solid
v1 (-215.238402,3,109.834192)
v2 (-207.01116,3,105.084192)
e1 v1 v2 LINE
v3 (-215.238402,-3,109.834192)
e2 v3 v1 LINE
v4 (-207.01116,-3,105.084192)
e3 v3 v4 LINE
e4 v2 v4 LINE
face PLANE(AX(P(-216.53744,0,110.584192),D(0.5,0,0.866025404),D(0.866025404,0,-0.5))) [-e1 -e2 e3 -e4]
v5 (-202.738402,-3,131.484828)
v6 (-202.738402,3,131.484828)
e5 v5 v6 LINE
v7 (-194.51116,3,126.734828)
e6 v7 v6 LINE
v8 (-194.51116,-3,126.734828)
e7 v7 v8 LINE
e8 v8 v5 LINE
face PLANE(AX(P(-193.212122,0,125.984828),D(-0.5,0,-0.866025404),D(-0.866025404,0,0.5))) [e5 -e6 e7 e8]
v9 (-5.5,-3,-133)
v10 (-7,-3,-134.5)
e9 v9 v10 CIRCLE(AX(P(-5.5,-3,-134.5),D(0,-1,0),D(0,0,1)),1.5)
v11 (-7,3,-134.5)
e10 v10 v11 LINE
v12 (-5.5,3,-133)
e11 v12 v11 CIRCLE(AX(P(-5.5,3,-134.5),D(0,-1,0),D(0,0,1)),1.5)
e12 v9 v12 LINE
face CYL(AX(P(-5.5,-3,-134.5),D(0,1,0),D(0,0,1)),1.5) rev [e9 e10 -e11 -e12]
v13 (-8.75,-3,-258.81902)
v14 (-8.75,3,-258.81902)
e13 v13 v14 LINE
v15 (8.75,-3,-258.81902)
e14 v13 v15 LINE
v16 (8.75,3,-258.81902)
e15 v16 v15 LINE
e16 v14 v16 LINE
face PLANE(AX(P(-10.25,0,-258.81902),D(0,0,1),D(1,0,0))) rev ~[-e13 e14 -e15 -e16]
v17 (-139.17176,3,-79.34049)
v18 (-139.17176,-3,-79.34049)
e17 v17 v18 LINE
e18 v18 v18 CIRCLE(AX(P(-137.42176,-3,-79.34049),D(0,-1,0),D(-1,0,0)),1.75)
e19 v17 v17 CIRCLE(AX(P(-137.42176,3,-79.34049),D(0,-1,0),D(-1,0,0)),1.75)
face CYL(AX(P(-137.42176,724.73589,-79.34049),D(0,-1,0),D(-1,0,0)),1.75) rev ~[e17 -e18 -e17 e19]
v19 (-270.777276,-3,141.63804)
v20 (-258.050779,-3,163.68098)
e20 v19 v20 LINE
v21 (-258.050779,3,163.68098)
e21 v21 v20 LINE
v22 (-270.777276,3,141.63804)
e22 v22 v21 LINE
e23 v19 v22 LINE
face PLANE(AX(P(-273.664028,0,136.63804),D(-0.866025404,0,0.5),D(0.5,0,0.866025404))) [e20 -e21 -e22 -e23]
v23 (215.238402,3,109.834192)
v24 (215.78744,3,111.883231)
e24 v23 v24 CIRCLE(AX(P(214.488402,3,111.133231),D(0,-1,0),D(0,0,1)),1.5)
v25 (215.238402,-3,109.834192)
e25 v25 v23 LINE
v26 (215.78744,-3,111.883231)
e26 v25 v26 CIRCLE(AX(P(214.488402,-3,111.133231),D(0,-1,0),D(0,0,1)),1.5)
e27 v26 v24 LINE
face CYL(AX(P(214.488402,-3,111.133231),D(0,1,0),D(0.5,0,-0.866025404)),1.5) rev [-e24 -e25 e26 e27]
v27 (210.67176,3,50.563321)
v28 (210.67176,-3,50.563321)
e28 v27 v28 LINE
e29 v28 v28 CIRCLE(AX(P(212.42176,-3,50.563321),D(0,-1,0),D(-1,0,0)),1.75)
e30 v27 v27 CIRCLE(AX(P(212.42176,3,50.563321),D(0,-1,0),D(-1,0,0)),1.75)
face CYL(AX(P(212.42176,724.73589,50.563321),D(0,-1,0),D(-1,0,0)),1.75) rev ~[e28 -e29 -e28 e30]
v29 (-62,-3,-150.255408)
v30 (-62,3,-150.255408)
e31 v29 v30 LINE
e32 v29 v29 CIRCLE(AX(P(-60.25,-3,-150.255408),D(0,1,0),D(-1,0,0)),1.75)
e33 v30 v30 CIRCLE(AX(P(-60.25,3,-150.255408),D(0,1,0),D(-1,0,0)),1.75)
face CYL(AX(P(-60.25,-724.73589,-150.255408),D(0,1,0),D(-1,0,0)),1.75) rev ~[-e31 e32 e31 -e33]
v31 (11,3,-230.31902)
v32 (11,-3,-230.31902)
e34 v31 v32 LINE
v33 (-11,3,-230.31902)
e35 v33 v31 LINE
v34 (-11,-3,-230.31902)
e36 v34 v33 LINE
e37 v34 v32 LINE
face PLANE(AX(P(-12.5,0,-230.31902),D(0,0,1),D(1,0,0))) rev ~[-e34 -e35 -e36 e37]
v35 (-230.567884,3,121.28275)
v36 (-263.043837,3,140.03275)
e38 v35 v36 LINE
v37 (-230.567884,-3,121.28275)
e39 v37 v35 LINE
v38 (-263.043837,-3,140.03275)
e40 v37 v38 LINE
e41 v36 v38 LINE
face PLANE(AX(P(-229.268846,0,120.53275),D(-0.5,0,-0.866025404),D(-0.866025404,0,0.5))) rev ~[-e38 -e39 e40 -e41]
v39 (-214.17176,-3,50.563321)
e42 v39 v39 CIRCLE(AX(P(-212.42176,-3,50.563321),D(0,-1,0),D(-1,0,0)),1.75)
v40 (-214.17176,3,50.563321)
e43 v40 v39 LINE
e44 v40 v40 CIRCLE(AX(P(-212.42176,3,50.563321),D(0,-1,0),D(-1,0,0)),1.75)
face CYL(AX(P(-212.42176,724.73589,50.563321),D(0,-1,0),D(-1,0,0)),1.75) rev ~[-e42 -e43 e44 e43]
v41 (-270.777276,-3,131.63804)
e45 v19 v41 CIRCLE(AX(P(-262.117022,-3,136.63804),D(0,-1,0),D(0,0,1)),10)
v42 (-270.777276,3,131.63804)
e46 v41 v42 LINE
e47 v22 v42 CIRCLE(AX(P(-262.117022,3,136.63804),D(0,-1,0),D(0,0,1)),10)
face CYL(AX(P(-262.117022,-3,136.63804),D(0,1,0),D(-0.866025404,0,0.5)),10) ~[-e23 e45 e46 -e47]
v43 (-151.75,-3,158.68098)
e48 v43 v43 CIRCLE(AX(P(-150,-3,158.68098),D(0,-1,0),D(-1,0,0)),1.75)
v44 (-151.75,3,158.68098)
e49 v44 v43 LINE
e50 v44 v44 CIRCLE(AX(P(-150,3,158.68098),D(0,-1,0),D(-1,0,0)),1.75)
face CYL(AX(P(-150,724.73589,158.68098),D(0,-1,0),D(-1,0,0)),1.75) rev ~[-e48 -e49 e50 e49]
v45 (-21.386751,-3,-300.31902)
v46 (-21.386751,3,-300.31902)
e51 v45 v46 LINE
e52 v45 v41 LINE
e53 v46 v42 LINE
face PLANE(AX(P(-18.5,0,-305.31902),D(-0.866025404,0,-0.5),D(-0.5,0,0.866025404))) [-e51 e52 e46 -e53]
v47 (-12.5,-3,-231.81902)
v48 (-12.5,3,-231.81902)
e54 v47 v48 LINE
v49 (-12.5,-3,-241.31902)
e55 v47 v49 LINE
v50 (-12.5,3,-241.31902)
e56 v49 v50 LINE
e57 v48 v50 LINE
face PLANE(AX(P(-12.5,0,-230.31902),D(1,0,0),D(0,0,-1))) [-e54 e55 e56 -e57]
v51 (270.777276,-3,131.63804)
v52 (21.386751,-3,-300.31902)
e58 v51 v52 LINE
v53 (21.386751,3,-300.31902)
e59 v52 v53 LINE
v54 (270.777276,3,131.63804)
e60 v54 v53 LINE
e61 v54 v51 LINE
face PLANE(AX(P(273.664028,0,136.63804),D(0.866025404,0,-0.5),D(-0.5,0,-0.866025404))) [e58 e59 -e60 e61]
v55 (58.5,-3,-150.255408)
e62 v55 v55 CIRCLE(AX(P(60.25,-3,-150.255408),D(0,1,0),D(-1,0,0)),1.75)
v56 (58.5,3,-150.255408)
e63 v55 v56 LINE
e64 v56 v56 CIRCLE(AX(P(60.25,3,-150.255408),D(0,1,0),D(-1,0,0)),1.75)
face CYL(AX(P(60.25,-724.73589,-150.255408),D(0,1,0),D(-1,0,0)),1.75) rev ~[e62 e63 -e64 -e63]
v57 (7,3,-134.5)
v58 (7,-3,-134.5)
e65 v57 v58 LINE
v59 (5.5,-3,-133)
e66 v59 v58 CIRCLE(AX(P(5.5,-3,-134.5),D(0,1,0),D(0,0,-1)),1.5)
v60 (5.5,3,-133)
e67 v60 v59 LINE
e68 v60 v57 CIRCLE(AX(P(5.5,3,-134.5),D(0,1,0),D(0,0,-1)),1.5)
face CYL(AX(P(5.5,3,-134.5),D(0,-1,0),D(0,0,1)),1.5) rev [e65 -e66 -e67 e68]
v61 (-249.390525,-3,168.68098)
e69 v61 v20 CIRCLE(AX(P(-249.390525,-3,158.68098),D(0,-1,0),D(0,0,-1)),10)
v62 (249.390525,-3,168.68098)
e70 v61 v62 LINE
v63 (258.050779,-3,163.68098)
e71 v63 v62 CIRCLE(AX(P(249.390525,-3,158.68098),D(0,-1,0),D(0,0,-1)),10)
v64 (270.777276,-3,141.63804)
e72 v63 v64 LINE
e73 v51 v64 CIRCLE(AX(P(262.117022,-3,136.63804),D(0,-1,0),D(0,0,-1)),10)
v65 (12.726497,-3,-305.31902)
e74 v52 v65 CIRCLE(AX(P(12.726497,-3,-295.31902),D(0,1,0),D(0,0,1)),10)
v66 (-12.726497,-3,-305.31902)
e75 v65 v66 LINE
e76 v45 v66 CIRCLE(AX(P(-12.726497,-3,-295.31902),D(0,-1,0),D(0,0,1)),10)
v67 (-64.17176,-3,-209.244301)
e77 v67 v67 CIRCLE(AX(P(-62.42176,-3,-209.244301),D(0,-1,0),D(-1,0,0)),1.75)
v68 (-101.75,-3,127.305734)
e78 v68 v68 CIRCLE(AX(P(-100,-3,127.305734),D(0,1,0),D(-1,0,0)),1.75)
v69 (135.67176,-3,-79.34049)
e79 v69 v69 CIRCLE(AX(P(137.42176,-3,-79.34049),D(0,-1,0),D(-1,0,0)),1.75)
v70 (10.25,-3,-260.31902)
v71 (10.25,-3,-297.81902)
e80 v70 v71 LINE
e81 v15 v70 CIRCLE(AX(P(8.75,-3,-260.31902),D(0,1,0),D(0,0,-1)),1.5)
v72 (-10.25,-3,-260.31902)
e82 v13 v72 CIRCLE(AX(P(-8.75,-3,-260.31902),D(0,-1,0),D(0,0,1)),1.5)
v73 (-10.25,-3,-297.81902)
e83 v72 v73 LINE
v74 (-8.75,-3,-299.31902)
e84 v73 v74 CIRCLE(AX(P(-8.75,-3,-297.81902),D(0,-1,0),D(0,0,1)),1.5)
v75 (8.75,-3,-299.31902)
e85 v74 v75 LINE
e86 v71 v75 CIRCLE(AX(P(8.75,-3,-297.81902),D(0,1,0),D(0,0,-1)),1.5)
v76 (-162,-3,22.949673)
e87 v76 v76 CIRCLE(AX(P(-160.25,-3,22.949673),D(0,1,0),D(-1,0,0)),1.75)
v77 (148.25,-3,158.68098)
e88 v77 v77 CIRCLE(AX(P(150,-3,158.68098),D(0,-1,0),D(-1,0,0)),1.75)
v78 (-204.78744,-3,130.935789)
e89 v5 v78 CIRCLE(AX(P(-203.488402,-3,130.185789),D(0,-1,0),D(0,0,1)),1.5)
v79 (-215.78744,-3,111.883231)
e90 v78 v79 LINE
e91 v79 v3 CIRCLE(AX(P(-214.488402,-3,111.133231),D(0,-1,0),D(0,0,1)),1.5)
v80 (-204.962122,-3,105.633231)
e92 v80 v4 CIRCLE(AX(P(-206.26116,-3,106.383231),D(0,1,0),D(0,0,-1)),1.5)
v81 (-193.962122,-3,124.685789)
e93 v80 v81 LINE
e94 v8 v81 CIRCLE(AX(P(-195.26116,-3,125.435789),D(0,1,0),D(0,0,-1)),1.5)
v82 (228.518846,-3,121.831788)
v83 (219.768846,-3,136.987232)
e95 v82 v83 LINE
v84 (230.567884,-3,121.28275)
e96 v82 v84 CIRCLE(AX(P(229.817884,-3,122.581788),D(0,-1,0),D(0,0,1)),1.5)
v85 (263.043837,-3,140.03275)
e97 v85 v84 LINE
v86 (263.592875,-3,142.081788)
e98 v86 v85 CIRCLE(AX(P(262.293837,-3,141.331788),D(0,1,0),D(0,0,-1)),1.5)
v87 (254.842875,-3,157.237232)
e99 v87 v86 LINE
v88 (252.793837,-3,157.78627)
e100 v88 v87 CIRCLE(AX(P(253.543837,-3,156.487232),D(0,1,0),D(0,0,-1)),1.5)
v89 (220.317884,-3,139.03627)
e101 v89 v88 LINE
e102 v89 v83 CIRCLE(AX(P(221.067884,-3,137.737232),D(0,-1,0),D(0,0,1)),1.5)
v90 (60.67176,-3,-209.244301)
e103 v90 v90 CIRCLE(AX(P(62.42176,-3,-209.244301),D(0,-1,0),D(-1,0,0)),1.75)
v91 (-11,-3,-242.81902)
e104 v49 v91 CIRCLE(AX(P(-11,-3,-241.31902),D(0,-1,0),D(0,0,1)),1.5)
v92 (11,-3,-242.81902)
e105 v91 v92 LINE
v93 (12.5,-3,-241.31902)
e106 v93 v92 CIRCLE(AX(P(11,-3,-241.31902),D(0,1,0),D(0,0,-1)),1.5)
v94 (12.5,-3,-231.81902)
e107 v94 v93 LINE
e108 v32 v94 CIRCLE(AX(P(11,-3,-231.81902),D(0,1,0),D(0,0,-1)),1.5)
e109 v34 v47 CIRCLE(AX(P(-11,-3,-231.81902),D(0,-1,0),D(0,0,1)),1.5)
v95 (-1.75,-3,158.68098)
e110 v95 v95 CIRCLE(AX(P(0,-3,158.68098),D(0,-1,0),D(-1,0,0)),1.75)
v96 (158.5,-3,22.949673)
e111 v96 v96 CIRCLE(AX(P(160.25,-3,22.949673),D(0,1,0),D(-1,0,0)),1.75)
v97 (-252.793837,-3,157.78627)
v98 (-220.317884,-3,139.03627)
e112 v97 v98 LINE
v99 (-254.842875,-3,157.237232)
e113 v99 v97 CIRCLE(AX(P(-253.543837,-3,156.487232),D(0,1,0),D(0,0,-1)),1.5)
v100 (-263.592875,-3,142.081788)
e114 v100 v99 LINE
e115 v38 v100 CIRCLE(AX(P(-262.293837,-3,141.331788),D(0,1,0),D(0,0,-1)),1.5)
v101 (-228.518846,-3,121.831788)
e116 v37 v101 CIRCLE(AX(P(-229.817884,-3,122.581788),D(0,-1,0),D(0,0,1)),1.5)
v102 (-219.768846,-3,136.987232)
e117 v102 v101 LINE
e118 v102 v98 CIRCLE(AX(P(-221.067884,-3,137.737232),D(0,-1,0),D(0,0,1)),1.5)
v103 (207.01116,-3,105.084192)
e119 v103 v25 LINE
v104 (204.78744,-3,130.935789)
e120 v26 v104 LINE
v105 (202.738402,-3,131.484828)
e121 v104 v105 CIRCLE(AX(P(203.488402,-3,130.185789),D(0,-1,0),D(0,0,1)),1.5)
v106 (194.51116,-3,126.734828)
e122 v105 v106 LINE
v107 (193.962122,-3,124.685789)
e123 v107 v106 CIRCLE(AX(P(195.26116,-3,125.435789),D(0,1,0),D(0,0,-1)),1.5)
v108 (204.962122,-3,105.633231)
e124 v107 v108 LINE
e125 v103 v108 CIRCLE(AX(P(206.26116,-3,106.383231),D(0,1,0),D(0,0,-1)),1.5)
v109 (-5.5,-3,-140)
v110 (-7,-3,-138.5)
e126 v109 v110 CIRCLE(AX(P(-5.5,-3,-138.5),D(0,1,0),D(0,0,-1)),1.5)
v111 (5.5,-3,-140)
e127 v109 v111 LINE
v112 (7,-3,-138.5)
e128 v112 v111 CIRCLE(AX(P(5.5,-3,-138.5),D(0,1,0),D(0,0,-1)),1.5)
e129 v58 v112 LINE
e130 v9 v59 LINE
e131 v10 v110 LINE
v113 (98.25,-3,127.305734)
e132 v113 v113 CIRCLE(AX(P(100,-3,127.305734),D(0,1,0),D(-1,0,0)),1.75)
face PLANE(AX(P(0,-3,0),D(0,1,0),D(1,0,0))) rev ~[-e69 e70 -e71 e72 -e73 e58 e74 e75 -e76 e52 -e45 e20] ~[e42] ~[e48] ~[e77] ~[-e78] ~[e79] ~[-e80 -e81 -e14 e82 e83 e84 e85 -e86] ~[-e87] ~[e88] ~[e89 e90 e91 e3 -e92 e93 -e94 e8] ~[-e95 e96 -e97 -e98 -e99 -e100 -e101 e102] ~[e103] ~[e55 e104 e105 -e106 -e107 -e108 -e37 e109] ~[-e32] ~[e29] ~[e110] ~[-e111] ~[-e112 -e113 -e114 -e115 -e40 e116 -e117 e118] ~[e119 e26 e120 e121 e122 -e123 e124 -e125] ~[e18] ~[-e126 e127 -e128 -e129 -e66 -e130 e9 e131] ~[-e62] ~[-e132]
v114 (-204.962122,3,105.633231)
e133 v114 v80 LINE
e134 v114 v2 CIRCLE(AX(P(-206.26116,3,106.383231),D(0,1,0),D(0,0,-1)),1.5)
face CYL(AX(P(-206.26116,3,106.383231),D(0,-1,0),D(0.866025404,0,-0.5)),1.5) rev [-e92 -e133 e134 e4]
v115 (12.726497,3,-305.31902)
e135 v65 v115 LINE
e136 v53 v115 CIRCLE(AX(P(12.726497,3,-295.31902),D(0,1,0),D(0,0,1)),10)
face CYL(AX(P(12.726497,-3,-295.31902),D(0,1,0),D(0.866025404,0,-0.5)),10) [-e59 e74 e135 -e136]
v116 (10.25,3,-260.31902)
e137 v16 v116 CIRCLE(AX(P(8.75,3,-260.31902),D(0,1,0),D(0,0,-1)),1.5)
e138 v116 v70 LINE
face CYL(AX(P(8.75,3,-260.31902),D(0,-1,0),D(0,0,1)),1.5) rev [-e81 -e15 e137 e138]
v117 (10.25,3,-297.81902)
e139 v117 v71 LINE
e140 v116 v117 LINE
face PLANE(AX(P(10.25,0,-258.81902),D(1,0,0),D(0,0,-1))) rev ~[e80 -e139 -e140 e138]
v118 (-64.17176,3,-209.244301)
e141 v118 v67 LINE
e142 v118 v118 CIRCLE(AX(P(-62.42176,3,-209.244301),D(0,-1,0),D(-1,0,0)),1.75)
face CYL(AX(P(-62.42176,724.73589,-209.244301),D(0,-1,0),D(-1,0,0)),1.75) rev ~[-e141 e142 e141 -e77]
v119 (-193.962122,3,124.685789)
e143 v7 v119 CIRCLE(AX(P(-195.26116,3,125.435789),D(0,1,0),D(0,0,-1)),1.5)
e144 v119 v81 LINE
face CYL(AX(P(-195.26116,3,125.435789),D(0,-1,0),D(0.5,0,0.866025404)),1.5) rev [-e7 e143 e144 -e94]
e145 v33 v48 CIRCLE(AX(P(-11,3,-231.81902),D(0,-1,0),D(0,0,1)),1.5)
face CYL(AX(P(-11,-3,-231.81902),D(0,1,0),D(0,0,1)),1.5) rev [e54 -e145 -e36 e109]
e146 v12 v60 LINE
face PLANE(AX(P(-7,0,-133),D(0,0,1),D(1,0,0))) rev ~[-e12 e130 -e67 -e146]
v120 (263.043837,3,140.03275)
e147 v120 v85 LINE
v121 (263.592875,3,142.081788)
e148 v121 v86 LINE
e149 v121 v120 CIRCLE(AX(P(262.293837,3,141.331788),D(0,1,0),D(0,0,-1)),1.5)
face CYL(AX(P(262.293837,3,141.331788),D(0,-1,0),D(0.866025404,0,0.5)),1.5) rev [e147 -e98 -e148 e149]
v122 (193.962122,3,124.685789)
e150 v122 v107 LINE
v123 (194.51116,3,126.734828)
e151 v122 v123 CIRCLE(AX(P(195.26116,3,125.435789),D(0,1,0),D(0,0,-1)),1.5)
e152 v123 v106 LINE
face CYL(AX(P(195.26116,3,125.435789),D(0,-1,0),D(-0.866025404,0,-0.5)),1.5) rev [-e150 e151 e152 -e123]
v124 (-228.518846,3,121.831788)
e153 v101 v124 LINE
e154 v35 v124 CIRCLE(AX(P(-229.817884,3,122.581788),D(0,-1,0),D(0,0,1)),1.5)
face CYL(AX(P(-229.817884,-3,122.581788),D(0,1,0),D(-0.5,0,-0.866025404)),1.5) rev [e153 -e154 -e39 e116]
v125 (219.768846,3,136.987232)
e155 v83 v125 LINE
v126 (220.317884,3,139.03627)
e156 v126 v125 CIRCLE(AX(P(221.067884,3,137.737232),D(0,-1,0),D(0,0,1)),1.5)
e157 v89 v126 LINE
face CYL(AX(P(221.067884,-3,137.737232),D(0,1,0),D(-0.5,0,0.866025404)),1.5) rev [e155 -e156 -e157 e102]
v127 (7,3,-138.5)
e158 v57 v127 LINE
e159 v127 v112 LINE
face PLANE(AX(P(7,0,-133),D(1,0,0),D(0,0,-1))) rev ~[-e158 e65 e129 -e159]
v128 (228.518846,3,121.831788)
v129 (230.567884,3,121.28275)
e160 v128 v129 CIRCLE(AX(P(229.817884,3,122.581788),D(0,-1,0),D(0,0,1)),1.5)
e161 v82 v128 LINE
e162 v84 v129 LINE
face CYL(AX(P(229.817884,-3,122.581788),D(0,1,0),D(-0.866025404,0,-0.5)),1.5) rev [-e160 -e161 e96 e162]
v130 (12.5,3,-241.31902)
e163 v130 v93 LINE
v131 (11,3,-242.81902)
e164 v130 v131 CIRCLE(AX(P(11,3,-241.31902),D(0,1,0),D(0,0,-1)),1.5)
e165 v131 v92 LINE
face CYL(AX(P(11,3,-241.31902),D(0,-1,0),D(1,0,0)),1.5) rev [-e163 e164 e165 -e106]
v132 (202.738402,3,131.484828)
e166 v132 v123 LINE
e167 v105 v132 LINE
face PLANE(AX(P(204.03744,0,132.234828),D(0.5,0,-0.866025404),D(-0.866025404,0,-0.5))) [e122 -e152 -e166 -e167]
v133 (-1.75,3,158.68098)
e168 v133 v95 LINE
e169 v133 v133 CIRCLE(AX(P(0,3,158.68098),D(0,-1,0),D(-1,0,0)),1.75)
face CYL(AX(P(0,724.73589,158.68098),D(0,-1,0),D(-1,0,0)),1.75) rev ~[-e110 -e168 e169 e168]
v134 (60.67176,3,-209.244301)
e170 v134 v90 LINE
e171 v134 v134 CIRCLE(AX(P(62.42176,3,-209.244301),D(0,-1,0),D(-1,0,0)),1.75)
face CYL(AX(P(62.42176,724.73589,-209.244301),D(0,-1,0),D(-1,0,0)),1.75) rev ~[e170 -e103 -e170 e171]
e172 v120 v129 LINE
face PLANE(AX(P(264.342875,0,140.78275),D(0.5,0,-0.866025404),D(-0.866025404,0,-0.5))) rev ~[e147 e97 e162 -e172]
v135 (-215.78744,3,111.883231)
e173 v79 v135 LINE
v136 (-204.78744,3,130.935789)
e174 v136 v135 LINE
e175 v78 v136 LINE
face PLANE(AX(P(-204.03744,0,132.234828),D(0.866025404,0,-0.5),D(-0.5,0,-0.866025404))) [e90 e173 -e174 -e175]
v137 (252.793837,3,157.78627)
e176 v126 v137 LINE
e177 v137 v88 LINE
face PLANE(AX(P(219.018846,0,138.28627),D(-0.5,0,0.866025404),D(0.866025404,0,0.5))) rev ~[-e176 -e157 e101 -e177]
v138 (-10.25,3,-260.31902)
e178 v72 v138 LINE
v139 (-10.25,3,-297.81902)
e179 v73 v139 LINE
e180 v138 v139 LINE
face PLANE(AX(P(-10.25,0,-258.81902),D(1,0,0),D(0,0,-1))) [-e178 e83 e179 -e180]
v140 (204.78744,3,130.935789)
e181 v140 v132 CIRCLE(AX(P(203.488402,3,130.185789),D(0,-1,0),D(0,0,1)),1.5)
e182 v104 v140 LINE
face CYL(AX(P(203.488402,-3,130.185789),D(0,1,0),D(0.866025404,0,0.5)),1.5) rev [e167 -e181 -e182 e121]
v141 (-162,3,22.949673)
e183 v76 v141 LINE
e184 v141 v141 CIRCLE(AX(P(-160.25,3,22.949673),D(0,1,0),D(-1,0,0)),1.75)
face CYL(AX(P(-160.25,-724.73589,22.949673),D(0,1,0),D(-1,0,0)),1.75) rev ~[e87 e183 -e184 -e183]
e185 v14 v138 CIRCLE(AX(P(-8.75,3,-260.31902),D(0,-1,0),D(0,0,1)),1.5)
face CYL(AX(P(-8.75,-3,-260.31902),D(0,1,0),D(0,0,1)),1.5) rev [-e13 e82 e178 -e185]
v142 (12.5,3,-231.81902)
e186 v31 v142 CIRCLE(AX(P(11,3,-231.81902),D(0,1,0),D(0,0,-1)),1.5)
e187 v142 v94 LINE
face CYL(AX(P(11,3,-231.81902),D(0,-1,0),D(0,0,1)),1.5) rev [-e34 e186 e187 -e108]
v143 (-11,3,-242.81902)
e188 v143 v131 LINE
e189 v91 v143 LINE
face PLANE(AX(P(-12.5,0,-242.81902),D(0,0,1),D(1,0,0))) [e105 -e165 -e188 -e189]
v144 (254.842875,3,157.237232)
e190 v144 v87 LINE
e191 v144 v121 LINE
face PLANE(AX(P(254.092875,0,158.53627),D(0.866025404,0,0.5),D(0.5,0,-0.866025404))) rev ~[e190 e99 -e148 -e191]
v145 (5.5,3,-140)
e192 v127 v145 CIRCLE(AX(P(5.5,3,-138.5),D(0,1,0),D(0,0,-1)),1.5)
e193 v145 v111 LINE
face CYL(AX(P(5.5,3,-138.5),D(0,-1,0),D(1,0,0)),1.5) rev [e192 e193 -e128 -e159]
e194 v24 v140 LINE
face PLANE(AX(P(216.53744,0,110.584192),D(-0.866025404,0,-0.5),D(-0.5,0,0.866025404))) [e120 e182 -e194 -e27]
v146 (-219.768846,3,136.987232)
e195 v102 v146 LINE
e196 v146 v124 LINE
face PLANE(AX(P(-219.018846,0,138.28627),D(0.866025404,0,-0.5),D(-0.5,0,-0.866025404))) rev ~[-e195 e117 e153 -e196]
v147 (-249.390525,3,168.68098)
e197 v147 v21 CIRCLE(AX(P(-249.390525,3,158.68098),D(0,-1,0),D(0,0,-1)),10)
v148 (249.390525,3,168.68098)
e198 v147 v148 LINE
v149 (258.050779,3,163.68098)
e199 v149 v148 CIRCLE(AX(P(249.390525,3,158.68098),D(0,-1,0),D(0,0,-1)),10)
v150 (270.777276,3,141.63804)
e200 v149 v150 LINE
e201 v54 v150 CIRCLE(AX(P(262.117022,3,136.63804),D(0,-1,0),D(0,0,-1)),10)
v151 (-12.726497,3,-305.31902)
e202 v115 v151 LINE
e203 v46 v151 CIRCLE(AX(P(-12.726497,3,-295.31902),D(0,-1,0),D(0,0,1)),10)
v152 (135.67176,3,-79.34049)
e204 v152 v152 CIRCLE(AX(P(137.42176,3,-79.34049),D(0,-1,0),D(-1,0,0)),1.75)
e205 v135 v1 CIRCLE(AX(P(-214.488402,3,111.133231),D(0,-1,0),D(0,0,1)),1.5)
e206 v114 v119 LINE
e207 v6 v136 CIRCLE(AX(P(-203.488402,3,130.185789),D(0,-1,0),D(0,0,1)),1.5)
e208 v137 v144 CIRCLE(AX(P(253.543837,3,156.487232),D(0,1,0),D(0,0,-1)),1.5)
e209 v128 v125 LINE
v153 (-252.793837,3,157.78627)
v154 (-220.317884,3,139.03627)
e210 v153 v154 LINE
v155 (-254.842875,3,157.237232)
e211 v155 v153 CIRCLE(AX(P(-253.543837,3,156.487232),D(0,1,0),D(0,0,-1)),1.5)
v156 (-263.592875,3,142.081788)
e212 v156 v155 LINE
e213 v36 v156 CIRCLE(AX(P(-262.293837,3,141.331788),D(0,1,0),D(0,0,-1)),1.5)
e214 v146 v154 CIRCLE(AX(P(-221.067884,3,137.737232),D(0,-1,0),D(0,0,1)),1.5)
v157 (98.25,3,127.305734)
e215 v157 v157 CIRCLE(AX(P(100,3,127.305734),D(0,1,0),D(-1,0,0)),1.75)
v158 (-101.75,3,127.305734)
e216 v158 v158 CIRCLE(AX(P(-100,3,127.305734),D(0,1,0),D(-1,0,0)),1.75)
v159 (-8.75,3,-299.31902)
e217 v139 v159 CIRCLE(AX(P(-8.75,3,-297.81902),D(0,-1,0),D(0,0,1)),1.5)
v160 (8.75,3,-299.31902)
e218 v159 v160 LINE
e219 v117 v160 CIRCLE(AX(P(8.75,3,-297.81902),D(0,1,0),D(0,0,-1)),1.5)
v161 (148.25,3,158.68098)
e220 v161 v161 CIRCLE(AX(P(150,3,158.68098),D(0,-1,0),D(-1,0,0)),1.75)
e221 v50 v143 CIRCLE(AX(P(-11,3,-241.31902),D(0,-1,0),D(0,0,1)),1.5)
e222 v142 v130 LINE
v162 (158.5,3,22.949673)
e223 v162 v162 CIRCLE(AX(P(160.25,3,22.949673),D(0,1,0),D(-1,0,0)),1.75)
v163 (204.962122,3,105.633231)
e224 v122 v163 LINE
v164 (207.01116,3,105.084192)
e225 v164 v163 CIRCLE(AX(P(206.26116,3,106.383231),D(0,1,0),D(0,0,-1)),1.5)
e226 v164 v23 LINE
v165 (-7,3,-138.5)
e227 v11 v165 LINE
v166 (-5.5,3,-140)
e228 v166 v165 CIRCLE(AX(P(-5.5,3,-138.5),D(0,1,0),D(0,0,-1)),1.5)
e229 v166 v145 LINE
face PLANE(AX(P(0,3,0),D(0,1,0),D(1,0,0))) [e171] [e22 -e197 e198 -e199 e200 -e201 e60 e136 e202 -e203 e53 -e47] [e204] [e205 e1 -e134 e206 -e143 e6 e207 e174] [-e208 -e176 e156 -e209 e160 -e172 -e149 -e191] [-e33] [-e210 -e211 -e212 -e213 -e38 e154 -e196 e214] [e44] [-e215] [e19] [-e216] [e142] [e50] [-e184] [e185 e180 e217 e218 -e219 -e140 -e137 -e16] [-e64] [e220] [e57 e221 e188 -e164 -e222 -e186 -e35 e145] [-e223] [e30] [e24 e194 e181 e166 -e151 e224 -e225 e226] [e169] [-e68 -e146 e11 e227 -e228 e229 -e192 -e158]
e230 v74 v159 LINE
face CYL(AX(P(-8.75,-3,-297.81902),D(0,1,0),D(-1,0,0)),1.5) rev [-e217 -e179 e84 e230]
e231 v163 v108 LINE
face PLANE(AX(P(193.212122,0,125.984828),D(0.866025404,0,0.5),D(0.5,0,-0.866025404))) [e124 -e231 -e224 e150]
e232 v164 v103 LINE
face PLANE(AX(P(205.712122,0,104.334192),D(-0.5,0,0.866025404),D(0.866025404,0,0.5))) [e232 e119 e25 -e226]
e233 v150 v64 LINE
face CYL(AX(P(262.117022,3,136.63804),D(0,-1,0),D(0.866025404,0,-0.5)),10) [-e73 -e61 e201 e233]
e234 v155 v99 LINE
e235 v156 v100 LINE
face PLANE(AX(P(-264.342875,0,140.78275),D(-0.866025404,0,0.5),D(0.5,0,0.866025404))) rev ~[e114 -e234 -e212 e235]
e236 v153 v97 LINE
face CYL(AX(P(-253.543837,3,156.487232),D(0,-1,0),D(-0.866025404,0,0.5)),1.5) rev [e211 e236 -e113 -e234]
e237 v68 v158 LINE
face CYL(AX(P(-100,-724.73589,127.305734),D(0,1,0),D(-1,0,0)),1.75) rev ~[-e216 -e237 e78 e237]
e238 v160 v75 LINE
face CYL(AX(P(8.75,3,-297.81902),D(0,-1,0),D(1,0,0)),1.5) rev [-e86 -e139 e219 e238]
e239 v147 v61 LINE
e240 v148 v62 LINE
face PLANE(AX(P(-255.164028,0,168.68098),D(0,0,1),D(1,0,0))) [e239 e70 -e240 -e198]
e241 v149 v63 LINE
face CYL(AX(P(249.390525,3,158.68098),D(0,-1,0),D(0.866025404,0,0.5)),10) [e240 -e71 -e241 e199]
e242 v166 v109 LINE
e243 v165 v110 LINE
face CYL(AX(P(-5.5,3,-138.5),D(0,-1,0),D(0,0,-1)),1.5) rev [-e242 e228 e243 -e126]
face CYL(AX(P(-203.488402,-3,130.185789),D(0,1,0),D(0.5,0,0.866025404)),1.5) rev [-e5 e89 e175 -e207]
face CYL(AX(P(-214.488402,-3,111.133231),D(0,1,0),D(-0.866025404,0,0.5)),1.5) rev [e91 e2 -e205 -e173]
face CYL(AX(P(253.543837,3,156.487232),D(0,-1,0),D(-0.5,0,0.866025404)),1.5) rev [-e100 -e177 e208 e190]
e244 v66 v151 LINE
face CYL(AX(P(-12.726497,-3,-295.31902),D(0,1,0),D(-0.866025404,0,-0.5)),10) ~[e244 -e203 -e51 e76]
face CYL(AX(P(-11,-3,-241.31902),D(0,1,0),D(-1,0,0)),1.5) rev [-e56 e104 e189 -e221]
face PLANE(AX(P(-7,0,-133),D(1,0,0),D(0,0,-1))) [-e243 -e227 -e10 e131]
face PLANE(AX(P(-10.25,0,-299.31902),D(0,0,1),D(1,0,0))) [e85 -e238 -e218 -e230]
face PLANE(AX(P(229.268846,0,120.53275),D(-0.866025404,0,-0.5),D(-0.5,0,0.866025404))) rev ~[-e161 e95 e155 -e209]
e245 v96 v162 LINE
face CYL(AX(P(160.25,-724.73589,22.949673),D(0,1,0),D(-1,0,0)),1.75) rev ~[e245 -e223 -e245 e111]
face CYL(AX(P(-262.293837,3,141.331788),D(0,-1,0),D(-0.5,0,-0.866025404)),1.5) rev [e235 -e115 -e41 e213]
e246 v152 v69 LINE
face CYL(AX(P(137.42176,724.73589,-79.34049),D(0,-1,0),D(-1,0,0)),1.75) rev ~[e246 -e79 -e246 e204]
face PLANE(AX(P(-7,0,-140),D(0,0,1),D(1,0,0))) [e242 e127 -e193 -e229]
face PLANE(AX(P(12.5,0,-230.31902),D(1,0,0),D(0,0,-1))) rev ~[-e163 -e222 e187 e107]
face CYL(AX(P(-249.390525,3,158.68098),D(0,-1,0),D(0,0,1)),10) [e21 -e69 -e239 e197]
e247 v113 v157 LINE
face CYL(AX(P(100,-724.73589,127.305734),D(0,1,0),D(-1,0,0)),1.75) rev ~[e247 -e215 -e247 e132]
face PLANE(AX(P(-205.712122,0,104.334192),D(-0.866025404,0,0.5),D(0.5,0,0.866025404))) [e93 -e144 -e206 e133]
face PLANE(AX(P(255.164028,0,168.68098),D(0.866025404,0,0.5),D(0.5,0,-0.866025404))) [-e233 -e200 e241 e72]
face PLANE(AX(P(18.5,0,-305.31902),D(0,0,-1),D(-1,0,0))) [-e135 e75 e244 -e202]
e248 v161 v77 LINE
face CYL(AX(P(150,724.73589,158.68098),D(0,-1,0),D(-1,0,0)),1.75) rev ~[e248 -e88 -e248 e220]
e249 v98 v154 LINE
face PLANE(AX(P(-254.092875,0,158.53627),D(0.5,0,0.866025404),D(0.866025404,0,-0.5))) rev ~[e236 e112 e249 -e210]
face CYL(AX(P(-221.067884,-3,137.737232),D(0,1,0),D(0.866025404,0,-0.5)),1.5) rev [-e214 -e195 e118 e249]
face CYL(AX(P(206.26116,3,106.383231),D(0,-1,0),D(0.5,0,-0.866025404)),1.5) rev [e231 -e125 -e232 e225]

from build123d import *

# Parameters (mm, degrees)
SKETCH_1_W          = 20.5
SKETCH_1_H          = 40.5
SKETCH_1_W_2        = 25
SKETCH_1_H_2        = 12.5
SKETCH_1_W_3        = 14
SKETCH_1_H_3        = 7
EXTRUDE_1367_DEPTH  = 3
FILLET_1_R          = 10
FILLET_2_R          = 1.5
HOLE_WIZARD_3_5_D   = 3.5
HOLE_WIZARD_3_5_2_D = 3.5


with BuildPart() as part:
    # Эскиз1 → Extrude 1367 (new, symmetric)
    with BuildSketch(Plane(origin=(0, 0, 0), x_dir=(1, 0, 0), z_dir=(0, 1, 0))):
        Polygon((273.664027596, -136.63804004), (18.5, 305.31902002), (-18.5, 305.31902002), (-273.664027596, -136.63804004), (-255.164027596, -168.68097998), (255.164027596, -168.68097998), align=None)
        Polygon((219.01884632, -138.286270399), (254.092875173, -158.536270399), (264.342875173, -140.782749621), (229.26884632, -120.532749621), align=None, mode=Mode.SUBTRACT)
        with Locations((0, 279.06902002)):
            Rectangle(SKETCH_1_W, SKETCH_1_H, mode=Mode.SUBTRACT)
        Polygon((-229.26884632, -120.532749621), (-264.342875173, -140.782749621), (-254.092875173, -158.536270399), (-219.01884632, -138.286270399), align=None, mode=Mode.SUBTRACT)
        Polygon((216.537439859, -110.584192463), (204.037439859, -132.234827557), (193.212122312, -125.984827557), (205.712122312, -104.334192463), align=None, mode=Mode.SUBTRACT)
        with Locations((0, 236.56902002)):
            Rectangle(SKETCH_1_W_2, SKETCH_1_H_2, mode=Mode.SUBTRACT)
        Polygon((-204.037439859, -132.234827557), (-216.537439859, -110.584192463), (-205.712122312, -104.334192463), (-193.212122312, -125.984827557), align=None, mode=Mode.SUBTRACT)
        with Locations((0, 136.5)):
            Rectangle(SKETCH_1_W_3, SKETCH_1_H_3, mode=Mode.SUBTRACT)
    extrude(amount=EXTRUDE_1367_DEPTH, both=True)

    # Скругление1
    fillet_1_edges = [part.edges().sort_by_distance(p)[0] for p in [
        (255.164027596, 0, 168.68097998),
        (-255.164027596, 0, 168.68097998),
        (-273.664027596, 0, 136.63804004),
        (-18.5, 0, -305.31902002),
        (18.5, 0, -305.31902002),
        (273.664027596, 0, 136.63804004),
    ]]
    fillet(fillet_1_edges, radius=FILLET_1_R)

    # Скругление2
    fillet_2_edges = [part.edges().sort_by_distance(p)[0] for p in [
        (10.25, 0, -258.81902002),
        (10.25, 0, -299.31902002),
        (-10.25, 0, -299.31902002),
        (-10.25, 0, -258.81902002),
        (12.5, 0, -230.31902002),
        (12.5, 0, -242.81902002),
        (-12.5, 0, -242.81902002),
        (-12.5, 0, -230.31902002),
        (229.26884632, 0, 120.532749621),
        (219.01884632, 0, 138.286270399),
        (254.092875173, 0, 158.536270399),
        (264.342875173, 0, 140.782749621),
        (-219.01884632, 0, 138.286270399),
        (-229.26884632, 0, 120.532749621),
        (-264.342875173, 0, 140.782749621),
        (-254.092875173, 0, 158.536270399),
        (-7, 0, -140),
        (-7, 0, -133),
        (7, 0, -133),
        (7, 0, -140),
        (193.212122312, 0, 125.984827557),
        (204.037439859, 0, 132.234827557),
        (216.537439859, 0, 110.584192463),
        (205.712122312, 0, 104.334192463),
        (-205.712122312, 0, 104.334192463),
        (-216.537439859, 0, 110.584192463),
        (-204.037439859, 0, 132.234827557),
        (-193.212122312, 0, 125.984827557),
    ]]
    fillet(fillet_2_edges, radius=FILLET_2_R)

    # Hole Wizard 3_5 (through all)
    with Locations(Plane.XZ.offset(3)):
        with Locations((-100, 127.305734356), (-160.25, 22.9496732), (100, 127.305734356), (160.25, 22.9496732), (-60.25, -150.255407557), (60.25, -150.255407557)):
            Hole(HOLE_WIZARD_3_5_D / 2)

    # Hole Wizard 3_5 2 (through all)
    with Locations(Plane(origin=(0, 3, 0), x_dir=(1, 0, 0), z_dir=(0, 1, 0))):
        with Locations((-137.42175976, 79.34048999), (-62.42175976, 209.244300558), (62.42175976, 209.244300558), (137.42175976, 79.34048999), (212.42175976, -50.563320578), (150, -158.68097998), (0, -158.68097998), (-150, -158.68097998), (-212.42175976, -50.563320578)):
            Hole(HOLE_WIZARD_3_5_2_D / 2)


solid = part.part
